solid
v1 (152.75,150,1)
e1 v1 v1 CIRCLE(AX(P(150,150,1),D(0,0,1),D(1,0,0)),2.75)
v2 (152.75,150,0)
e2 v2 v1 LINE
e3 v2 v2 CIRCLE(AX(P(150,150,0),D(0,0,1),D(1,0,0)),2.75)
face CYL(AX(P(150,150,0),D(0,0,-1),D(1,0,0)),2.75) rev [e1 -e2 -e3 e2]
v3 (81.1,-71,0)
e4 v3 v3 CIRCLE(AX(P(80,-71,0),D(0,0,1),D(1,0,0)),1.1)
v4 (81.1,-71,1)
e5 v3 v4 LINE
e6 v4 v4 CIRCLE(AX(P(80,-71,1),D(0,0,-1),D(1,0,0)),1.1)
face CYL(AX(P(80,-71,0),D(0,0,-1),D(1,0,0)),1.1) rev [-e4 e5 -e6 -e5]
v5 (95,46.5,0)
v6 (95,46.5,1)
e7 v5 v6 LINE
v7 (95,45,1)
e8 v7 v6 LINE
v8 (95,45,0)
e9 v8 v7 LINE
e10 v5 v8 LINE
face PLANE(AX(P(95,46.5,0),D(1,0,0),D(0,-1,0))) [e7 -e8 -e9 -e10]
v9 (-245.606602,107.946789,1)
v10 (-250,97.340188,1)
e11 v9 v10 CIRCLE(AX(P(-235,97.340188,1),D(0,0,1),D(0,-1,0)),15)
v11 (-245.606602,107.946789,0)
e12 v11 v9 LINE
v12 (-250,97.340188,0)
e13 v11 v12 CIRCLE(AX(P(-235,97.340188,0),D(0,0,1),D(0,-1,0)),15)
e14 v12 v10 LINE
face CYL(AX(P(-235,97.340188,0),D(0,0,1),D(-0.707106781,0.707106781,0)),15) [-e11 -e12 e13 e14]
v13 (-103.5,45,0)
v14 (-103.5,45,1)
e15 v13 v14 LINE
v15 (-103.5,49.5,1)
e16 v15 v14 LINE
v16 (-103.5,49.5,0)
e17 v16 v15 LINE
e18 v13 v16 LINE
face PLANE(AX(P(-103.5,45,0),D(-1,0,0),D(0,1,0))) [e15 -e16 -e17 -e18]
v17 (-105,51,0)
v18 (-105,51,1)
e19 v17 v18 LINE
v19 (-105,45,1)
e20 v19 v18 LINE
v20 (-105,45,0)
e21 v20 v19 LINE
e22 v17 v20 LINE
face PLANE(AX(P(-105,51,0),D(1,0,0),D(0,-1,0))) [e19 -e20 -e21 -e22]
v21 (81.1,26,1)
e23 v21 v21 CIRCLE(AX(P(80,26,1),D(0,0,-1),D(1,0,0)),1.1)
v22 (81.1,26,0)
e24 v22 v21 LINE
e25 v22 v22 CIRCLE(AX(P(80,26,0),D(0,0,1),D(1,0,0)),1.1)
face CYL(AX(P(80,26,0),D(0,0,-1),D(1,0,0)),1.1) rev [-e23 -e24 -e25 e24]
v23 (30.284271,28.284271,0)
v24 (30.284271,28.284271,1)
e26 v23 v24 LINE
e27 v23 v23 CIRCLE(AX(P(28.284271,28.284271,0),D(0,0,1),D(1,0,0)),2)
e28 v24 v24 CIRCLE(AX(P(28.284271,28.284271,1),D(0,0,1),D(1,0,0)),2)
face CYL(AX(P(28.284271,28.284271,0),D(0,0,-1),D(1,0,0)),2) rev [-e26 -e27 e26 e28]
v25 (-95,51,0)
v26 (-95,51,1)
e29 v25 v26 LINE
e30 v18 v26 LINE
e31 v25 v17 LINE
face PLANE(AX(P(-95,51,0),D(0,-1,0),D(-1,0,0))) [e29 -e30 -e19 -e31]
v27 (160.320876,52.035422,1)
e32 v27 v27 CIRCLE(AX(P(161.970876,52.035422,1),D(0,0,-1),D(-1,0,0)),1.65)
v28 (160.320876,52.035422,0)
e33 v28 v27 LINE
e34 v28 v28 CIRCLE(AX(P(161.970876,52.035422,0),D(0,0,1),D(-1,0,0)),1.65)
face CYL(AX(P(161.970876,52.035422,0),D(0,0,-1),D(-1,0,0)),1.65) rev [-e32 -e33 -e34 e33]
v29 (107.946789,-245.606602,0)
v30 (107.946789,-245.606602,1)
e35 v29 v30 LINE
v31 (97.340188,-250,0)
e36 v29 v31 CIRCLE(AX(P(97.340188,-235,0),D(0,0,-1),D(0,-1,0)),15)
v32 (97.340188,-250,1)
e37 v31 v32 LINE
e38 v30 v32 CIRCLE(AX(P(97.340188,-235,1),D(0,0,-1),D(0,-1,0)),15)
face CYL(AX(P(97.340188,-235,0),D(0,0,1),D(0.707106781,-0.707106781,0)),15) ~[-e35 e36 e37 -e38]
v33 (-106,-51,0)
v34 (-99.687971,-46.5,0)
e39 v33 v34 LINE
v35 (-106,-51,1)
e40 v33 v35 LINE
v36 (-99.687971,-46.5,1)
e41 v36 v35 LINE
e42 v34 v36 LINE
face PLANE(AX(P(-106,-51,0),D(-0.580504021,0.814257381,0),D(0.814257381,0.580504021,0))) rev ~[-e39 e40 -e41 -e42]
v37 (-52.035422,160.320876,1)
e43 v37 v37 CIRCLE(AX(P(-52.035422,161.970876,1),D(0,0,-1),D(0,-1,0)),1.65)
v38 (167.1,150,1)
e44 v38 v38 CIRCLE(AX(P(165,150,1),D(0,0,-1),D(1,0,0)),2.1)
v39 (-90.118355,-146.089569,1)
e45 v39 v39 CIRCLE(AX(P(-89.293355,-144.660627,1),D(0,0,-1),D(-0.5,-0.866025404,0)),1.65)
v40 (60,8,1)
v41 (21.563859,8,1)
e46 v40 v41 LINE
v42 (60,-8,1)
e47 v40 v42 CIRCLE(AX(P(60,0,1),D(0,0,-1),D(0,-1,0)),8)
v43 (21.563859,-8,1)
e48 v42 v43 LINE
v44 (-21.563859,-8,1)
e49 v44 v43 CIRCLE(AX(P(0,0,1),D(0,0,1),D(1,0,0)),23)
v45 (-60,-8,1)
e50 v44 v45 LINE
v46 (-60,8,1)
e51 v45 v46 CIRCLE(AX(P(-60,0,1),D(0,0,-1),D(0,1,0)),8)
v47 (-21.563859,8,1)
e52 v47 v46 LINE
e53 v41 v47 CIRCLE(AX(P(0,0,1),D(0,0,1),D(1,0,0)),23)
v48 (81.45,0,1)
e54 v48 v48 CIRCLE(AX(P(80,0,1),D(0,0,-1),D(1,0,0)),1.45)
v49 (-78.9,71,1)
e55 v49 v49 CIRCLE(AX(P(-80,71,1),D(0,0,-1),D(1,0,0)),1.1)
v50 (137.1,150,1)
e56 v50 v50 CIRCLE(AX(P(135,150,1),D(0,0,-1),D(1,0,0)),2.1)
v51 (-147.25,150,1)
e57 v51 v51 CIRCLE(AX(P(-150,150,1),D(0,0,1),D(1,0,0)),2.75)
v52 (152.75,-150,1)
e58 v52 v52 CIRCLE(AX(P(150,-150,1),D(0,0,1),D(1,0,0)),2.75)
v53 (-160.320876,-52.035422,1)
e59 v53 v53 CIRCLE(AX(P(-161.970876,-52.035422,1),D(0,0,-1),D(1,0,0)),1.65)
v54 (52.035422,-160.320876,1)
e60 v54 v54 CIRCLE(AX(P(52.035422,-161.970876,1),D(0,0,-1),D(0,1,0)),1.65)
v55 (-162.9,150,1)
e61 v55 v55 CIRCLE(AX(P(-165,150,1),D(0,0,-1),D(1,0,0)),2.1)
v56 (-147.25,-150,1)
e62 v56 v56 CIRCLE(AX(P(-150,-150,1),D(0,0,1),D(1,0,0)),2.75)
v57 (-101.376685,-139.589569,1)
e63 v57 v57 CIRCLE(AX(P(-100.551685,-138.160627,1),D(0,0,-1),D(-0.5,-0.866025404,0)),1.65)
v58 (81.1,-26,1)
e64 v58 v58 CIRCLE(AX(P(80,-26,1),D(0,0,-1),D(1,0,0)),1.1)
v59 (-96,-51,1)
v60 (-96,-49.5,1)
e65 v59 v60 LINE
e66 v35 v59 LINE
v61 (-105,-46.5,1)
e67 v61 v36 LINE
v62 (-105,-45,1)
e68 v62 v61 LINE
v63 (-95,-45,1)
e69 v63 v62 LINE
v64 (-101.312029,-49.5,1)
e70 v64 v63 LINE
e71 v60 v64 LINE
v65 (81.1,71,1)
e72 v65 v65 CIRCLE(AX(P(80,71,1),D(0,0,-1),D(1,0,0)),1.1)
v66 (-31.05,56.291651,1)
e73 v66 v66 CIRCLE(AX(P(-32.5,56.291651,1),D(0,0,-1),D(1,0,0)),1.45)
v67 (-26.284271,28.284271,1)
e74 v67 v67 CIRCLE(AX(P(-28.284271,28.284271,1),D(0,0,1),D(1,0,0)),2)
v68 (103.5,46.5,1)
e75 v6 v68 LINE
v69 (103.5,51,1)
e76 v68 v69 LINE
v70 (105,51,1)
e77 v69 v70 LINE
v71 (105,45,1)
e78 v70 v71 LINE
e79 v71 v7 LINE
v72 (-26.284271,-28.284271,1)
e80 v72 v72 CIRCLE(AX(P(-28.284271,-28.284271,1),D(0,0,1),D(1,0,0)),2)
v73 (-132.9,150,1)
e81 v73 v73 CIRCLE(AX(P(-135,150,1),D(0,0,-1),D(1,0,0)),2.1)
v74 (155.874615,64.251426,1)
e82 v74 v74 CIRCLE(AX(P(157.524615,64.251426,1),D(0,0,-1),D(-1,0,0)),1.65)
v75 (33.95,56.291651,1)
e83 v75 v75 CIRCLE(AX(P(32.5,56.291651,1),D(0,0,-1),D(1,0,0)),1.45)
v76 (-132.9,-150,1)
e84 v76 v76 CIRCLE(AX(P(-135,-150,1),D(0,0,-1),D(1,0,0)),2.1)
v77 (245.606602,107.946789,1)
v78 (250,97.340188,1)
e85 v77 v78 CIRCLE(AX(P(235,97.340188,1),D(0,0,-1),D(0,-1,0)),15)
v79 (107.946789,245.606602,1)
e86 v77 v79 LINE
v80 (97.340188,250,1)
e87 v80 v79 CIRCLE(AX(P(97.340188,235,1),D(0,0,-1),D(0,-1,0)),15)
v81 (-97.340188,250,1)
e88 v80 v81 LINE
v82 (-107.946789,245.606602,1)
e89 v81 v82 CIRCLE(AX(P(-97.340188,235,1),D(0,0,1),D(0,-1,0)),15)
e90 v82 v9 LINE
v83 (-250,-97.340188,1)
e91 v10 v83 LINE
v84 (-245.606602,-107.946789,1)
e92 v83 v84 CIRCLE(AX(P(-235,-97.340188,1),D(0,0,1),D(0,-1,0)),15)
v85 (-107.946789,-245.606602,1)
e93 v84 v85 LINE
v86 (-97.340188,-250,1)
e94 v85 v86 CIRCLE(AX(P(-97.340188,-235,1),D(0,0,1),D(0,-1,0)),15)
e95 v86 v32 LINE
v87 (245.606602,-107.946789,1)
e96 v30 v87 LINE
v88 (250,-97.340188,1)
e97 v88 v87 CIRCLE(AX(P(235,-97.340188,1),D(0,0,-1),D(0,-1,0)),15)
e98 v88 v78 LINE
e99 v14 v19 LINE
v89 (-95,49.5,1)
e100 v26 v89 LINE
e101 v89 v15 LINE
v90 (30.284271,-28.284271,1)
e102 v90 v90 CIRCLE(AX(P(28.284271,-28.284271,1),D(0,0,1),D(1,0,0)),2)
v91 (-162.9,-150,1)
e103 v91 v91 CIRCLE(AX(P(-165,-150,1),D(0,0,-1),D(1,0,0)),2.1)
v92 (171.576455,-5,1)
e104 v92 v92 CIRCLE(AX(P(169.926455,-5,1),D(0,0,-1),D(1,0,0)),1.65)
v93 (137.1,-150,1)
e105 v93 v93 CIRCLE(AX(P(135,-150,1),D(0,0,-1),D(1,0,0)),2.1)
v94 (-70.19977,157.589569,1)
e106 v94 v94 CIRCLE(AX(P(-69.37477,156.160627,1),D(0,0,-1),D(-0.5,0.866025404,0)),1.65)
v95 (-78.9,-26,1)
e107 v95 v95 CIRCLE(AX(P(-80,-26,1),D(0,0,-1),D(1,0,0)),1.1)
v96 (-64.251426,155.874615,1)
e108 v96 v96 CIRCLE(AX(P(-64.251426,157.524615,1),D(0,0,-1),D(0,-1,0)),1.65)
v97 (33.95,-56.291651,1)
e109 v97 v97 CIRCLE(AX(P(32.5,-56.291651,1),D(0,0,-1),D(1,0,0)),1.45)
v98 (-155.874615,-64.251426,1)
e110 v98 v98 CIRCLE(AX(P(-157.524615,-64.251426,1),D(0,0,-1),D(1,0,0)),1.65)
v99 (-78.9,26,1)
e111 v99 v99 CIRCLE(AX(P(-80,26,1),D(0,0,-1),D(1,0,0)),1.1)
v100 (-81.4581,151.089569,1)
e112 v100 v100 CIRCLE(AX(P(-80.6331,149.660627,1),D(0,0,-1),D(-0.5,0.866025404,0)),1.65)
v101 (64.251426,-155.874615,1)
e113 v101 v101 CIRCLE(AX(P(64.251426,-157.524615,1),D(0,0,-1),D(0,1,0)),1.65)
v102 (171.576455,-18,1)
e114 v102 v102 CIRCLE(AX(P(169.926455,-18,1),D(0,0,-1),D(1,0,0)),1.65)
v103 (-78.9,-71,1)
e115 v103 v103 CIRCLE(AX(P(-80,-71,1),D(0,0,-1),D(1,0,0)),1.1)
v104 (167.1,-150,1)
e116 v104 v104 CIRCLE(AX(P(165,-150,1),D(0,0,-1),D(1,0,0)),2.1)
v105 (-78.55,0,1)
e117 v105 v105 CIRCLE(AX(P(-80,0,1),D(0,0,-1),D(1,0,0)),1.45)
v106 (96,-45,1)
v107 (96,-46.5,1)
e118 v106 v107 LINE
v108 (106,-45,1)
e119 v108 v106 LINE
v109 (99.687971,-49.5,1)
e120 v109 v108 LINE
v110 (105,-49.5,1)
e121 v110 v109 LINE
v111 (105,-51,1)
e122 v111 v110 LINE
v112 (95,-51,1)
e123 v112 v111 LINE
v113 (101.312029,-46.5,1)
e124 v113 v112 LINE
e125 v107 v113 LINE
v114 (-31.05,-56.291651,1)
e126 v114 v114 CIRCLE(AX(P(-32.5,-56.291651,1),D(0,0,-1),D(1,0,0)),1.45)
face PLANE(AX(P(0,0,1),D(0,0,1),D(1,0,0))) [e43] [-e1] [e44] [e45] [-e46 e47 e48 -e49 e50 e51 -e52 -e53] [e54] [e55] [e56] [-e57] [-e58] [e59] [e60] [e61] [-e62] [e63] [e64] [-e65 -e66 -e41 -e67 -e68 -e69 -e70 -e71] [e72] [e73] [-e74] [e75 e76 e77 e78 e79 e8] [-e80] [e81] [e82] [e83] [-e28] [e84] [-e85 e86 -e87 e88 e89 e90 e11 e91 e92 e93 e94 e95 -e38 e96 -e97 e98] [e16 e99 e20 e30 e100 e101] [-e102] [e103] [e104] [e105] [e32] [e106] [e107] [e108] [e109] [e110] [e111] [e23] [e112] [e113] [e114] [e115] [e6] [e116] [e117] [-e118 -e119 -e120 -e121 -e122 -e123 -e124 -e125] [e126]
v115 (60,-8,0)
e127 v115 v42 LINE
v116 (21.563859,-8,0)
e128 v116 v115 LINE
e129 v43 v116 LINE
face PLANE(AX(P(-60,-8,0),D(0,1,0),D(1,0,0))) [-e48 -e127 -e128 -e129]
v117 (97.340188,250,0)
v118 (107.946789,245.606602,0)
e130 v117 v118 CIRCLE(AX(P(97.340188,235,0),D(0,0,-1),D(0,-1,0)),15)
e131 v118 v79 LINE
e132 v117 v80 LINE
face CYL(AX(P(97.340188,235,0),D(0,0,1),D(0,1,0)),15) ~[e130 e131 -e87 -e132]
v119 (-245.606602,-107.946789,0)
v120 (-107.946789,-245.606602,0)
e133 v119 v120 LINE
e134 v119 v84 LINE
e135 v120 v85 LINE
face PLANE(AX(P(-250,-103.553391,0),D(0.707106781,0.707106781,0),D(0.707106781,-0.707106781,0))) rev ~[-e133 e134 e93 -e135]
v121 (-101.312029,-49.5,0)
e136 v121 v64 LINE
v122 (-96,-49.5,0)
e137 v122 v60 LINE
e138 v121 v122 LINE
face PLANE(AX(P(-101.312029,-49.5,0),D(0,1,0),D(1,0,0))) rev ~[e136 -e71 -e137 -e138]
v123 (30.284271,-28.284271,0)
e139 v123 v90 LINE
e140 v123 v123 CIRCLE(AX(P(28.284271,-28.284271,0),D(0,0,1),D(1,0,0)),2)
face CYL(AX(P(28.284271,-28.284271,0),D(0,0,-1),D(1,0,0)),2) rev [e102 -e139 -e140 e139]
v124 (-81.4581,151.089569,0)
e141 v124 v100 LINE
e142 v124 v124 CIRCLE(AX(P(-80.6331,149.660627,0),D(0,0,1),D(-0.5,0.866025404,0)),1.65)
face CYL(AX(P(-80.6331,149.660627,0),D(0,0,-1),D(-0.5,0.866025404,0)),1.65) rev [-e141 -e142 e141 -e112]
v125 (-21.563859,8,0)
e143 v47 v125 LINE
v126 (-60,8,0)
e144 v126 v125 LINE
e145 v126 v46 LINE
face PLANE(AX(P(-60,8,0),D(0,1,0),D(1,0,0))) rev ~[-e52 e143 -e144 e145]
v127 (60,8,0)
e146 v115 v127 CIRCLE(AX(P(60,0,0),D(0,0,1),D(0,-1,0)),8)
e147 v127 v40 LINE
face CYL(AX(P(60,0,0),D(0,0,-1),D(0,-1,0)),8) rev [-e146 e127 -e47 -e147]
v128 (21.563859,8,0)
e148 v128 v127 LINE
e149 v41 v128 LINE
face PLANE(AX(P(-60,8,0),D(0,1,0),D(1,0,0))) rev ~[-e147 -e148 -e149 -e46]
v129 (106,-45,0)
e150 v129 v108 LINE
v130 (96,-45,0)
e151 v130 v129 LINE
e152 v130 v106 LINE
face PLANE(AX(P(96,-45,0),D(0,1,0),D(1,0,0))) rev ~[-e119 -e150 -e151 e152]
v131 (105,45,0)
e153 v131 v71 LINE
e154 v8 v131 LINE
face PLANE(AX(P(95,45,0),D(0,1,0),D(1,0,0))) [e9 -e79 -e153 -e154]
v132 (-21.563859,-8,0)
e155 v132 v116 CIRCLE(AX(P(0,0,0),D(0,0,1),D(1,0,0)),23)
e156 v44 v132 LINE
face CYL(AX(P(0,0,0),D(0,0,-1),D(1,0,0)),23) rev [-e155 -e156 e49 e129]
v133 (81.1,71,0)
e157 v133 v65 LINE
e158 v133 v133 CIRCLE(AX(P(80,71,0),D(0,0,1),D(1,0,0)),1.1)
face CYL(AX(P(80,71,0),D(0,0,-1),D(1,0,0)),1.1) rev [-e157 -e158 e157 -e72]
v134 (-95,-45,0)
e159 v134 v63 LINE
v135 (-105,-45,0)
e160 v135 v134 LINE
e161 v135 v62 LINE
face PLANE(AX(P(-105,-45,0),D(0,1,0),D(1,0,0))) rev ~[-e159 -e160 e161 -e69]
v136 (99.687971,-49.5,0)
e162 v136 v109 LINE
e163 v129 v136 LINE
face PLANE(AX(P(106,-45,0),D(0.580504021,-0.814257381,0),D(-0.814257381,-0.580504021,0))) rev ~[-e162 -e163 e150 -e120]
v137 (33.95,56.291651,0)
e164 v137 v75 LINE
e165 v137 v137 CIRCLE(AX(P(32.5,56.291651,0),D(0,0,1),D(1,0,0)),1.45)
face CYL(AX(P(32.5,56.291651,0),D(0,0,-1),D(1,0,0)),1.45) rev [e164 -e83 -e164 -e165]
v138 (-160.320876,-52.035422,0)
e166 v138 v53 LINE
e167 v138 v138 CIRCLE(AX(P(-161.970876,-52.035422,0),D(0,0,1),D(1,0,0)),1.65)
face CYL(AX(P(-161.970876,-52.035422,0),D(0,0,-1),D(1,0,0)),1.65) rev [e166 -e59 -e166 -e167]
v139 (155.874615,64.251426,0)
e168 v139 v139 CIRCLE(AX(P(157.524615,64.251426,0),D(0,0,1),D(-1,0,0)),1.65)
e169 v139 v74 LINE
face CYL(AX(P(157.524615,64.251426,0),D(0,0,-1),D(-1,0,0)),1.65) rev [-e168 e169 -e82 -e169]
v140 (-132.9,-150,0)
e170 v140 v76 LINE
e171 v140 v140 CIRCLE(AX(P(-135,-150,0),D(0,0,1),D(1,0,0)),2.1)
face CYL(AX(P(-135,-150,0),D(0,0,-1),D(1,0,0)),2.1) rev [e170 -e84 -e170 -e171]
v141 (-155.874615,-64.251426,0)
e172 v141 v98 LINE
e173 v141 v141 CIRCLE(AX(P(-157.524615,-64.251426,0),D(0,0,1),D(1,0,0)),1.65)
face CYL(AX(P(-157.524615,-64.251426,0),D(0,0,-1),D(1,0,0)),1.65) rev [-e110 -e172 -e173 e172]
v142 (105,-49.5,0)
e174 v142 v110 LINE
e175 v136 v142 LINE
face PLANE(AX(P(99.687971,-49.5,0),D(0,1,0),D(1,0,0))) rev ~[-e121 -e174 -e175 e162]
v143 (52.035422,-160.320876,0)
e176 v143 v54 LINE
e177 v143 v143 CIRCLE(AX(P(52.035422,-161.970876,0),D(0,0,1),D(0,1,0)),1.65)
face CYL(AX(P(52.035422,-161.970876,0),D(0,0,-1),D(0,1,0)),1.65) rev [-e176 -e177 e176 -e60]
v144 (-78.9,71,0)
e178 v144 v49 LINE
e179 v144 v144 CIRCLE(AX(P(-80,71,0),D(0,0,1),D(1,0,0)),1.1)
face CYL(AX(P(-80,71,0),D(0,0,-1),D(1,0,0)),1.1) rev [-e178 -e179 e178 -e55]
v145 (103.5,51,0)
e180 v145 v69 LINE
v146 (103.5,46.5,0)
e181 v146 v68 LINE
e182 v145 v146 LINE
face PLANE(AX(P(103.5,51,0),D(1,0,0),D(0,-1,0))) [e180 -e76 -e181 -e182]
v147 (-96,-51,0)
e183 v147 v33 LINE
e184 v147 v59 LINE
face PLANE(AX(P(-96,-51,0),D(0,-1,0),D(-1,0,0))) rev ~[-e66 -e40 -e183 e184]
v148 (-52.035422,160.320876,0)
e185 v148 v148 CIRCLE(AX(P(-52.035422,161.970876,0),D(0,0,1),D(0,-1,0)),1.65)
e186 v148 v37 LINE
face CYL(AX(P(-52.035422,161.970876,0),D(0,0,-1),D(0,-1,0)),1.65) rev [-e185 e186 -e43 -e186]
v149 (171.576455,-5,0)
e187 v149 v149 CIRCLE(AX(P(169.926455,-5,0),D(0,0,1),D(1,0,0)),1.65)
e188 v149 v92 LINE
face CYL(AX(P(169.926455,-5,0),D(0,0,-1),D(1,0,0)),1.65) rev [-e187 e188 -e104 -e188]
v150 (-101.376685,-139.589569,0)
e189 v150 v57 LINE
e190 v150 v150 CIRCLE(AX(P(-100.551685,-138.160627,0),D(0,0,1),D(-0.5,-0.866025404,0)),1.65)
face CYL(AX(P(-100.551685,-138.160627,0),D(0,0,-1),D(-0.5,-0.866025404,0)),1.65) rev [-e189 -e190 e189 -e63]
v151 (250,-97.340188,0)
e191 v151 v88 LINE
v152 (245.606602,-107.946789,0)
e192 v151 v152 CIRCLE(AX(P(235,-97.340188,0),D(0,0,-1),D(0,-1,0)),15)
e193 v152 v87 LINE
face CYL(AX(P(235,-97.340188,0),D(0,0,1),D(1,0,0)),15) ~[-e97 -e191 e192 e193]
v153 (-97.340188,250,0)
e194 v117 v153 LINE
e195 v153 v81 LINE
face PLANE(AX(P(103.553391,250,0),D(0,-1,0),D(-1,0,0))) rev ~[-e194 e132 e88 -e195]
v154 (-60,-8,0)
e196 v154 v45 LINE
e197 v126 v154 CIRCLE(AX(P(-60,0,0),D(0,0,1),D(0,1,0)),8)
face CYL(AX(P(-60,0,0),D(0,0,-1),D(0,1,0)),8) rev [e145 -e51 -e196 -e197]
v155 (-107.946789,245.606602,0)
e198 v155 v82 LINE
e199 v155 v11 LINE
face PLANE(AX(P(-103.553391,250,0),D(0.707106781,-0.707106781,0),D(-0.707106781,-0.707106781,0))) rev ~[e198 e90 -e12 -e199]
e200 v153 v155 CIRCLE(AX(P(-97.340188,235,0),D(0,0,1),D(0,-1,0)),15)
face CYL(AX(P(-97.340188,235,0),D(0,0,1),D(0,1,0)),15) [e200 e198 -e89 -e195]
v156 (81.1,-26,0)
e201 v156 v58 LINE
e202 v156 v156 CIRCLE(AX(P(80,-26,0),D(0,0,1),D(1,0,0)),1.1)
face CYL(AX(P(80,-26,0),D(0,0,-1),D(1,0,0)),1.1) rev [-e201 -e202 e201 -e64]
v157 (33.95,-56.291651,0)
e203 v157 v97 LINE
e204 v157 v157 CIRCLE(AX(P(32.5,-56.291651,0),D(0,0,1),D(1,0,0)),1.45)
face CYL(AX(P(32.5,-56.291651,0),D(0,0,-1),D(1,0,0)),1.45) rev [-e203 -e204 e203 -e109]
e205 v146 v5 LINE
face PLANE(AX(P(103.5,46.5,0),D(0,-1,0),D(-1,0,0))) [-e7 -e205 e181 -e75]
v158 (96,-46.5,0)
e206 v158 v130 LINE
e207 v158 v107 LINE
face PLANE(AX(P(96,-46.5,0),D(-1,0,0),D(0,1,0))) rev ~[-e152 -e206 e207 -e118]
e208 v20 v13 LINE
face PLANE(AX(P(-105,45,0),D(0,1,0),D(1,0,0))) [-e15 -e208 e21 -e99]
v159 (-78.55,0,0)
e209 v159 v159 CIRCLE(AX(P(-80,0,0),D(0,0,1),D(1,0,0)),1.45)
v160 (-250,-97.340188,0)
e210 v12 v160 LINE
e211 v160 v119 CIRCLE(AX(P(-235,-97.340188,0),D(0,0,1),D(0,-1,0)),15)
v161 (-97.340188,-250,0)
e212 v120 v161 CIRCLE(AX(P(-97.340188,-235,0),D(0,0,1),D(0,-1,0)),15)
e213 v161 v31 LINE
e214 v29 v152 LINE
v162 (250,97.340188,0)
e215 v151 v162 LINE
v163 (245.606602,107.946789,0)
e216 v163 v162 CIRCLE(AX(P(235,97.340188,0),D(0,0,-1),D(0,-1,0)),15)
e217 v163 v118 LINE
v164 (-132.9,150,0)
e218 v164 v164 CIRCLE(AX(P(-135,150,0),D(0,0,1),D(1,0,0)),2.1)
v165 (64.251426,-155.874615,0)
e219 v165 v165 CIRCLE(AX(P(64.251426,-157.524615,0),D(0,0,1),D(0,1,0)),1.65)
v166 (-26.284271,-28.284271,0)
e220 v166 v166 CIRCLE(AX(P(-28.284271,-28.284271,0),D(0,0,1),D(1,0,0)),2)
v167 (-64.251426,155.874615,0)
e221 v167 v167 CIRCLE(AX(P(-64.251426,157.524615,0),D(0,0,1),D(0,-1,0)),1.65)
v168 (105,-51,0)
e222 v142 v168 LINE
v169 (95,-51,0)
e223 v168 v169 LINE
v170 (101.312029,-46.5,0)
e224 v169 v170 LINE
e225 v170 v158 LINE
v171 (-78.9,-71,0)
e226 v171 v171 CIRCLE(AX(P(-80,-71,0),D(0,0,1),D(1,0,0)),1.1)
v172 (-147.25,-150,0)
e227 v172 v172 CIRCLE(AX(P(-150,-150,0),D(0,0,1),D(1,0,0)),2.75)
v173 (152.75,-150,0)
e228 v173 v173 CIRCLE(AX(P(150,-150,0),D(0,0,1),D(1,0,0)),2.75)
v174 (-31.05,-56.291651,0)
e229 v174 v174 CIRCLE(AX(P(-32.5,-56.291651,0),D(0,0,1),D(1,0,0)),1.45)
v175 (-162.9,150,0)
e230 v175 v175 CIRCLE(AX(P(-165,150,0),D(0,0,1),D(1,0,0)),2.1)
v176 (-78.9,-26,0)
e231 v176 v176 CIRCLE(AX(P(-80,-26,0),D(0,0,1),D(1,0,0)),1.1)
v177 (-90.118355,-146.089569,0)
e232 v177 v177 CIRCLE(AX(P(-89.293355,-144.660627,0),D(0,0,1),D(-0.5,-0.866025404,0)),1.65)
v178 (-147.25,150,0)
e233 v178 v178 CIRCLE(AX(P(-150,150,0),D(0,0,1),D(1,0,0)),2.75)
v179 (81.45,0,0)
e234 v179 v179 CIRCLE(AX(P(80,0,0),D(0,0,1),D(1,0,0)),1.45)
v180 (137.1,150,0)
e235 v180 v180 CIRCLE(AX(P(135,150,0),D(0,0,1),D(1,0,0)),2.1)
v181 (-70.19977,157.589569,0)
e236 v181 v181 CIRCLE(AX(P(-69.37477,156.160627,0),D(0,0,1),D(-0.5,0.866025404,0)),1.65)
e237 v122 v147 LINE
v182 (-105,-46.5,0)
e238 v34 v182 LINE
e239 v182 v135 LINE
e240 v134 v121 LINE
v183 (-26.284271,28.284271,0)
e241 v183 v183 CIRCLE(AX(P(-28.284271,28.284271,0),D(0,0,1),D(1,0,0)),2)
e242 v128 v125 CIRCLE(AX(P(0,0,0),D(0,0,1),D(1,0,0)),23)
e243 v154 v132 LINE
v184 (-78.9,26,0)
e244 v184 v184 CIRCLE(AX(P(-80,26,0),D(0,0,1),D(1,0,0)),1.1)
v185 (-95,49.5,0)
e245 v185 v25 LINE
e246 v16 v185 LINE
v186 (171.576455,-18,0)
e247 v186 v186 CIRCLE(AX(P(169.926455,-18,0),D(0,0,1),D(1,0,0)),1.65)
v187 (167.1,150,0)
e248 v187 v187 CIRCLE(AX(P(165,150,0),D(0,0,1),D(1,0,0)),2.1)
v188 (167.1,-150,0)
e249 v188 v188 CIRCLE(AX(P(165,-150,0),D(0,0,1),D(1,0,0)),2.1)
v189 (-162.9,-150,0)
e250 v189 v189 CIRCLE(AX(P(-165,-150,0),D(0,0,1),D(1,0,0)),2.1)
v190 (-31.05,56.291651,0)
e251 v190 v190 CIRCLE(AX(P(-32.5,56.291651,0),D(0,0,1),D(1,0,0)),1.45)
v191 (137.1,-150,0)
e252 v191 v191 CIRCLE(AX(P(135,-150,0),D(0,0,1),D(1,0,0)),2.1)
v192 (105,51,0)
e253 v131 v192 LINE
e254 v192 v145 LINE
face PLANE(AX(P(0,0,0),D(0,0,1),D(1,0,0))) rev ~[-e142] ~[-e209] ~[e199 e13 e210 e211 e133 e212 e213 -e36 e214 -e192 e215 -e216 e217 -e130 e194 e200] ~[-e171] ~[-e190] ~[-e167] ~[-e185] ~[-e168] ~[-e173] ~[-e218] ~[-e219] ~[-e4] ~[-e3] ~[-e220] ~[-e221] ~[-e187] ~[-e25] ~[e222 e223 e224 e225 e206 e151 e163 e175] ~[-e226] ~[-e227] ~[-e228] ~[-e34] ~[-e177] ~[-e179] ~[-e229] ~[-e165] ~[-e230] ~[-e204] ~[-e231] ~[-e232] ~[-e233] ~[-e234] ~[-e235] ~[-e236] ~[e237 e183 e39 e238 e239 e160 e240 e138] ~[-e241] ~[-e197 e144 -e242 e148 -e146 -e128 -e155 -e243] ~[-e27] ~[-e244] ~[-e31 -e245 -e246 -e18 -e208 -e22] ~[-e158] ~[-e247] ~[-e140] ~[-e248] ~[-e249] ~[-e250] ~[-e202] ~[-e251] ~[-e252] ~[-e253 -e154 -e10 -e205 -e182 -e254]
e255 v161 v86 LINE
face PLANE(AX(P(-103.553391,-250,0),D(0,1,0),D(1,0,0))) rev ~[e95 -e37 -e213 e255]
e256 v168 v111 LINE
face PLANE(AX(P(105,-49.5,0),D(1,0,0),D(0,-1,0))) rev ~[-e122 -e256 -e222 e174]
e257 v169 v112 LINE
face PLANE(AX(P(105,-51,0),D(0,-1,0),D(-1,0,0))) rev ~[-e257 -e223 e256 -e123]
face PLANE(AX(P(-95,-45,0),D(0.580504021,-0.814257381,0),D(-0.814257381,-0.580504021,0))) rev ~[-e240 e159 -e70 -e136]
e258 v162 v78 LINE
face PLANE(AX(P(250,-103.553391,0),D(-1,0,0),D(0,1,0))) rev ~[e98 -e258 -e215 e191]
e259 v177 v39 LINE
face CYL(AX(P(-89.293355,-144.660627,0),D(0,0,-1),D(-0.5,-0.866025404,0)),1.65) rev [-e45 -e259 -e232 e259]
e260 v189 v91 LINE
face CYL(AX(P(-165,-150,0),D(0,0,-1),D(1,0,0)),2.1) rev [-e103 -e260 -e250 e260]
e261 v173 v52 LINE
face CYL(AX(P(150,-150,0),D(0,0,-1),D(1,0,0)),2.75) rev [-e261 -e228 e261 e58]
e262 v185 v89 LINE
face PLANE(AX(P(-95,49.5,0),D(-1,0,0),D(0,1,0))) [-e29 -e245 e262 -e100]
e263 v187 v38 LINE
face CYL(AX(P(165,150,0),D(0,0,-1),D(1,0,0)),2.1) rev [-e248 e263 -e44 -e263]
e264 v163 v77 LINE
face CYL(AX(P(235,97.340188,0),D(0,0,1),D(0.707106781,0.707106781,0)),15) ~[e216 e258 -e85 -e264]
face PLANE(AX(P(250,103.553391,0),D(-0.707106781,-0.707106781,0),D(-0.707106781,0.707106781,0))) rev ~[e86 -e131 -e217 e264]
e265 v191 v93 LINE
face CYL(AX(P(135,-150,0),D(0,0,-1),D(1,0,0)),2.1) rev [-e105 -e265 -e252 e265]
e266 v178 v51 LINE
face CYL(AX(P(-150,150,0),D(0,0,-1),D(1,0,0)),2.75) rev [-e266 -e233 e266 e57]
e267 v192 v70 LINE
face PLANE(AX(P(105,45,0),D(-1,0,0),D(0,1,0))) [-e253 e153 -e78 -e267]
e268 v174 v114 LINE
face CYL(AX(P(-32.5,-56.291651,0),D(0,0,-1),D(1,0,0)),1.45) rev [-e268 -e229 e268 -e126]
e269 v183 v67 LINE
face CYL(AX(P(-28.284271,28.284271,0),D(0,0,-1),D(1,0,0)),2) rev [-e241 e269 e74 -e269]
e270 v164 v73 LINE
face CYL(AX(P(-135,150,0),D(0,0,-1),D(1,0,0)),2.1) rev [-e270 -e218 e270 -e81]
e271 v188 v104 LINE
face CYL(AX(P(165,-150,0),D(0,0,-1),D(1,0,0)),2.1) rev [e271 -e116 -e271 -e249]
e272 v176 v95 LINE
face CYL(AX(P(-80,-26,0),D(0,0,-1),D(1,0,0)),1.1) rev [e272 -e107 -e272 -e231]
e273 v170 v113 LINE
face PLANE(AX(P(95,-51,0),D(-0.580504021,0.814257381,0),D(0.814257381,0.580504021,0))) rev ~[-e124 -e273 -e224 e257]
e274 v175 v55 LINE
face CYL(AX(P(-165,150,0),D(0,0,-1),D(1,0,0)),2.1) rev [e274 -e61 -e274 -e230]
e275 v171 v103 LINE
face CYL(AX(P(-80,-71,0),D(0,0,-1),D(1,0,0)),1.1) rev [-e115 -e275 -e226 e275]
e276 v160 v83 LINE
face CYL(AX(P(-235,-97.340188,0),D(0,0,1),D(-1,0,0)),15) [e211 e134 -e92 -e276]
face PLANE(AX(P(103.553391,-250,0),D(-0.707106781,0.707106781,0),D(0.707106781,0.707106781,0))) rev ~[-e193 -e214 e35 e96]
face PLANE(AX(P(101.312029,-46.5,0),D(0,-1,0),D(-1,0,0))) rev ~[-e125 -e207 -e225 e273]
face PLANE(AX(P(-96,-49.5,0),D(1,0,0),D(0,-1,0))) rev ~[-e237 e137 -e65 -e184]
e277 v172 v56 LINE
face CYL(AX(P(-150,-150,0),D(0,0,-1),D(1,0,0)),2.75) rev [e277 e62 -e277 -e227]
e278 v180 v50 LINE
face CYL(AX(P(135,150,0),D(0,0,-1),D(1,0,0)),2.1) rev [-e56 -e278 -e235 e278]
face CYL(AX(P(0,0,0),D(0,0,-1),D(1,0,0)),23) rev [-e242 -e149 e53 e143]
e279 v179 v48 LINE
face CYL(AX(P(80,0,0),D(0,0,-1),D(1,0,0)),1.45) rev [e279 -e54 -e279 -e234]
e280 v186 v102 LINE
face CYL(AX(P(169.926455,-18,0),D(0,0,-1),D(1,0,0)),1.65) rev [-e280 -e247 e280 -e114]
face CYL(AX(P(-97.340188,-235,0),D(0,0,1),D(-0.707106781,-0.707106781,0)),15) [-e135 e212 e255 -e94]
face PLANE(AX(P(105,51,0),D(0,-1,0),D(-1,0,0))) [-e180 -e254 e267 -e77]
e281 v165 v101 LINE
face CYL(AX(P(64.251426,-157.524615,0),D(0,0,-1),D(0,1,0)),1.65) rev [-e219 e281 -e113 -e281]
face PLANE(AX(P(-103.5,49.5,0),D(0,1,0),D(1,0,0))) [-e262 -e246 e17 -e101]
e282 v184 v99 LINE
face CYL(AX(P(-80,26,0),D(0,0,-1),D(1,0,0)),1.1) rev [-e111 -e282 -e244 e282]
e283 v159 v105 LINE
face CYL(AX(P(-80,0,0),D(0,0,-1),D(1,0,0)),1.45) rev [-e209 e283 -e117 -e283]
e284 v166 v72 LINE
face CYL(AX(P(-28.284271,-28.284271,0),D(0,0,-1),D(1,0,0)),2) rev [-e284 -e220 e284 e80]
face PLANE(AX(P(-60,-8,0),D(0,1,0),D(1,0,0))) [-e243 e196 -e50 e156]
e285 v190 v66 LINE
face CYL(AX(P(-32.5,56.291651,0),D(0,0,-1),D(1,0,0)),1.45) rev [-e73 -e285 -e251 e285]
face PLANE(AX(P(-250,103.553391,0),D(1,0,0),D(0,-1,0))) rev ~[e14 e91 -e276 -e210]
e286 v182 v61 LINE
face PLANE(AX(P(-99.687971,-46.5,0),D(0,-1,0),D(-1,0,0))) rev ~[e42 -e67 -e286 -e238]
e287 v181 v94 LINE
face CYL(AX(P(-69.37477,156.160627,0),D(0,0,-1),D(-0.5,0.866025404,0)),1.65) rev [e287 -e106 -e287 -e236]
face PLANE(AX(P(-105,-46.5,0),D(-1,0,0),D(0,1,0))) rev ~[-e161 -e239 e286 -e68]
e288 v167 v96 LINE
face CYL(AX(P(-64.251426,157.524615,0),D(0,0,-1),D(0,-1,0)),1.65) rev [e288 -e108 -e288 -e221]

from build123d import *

# Parameters (mm, degrees)
SKETCH_R              = 23
SKETCH_R_2            = 2.75
SKETCH_R_3            = 2
PAD_DEPTH             = 1
SKETCH001_R           = 1.65
POCKET_DEPTH          = 1415.215977
POLARPATTERN_COUNT    = 3
POCKET001_DEPTH       = 5
SKETCH003_R           = 1.1
SKETCH003_R_2         = 1.45
POCKET002_DEPTH       = 1.001
SKETCH004_R           = 1.45
POCKET003_DEPTH       = 1.001
SKETCH005_R           = 2.1
POCKET004_DEPTH       = 1.001
SKETCH006_R           = 1.65
POCKET005_DEPTH       = 1415.215977
POLARPATTERN001_COUNT = 4
FILLET_R              = 15


with BuildPart() as part:
    # Sketch → Pad (new body)
    with BuildSketch(Plane.XY):
        Polygon((103.553391, 250), (-103.553391, 250), (-250, 103.553391), (-250, -103.553391), (-103.553391, -250), (103.553391, -250), (250, -103.553391), (250, 103.553391), align=None)
        Circle(SKETCH_R, mode=Mode.SUBTRACT)
        with Locations((150, 150)):
            Circle(SKETCH_R_2, mode=Mode.SUBTRACT)
        with Locations((-150, 150)):
            Circle(SKETCH_R_2, mode=Mode.SUBTRACT)
        with Locations((-150, -150)):
            Circle(SKETCH_R_2, mode=Mode.SUBTRACT)
        with Locations((150, -150)):
            Circle(SKETCH_R_2, mode=Mode.SUBTRACT)
        with Locations((28.284271, 28.284271)):
            Circle(SKETCH_R_3, mode=Mode.SUBTRACT)
        with Locations((-28.284271, 28.284271)):
            Circle(SKETCH_R_3, mode=Mode.SUBTRACT)
        with Locations((-28.284271, -28.284271)):
            Circle(SKETCH_R_3, mode=Mode.SUBTRACT)
        with Locations((28.284271, -28.284271)):
            Circle(SKETCH_R_3, mode=Mode.SUBTRACT)
    extrude(amount=PAD_DEPTH)

    # Sketch001 → Pocket (cut, through all)
    with BuildSketch(Plane.XY):
        with Locations((169.926455, -5)):
            Circle(SKETCH001_R)
        with Locations((169.926455, -18)):
            Circle(SKETCH001_R)
    pocket = extrude(amount=POCKET_DEPTH, mode=Mode.SUBTRACT)

    # PolarPattern: Pocket ×3 about axis
    polarpattern_axis = Axis((0, 0, 0), (0, 0, 1))
    for i in range(1, POLARPATTERN_COUNT):
        add(pocket.rotate(polarpattern_axis, i * 360 / POLARPATTERN_COUNT), mode=Mode.SUBTRACT)

    # Sketch002 → Pocket001 (cut)
    with BuildSketch(Plane.XY):
        with BuildLine():
            ThreePointArc((-60, 8), (-68, 0), (-60, -8))
            Line((-60, -8), (60, -8))
            ThreePointArc((60, -8), (68, 0), (60, 8))
            Line((-60, 8), (60, 8))
        make_face()
    extrude(amount=POCKET001_DEPTH, mode=Mode.SUBTRACT)

    # Sketch003 → Pocket002 (cut, through all)
    with BuildSketch(Plane.XY):
        with Locations((-80, 71)):
            Circle(SKETCH003_R)
        with Locations((-80, 26)):
            Circle(SKETCH003_R)
        with Locations((-80, -26)):
            Circle(SKETCH003_R)
        with Locations((-80, -71)):
            Circle(SKETCH003_R)
        with Locations((-80, 0)):
            Circle(SKETCH003_R_2)
        with Locations((80, 71)):
            Circle(SKETCH003_R)
        with Locations((80, 26)):
            Circle(SKETCH003_R)
        with Locations((80, 0)):
            Circle(SKETCH003_R_2)
        with Locations((80, -26)):
            Circle(SKETCH003_R)
        with Locations((80, -71)):
            Circle(SKETCH003_R)
        Polygon((-95, 51), (-105, 51), (-105, 45), (-103.5, 45), (-103.5, 49.5), (-95, 49.5), align=None)
        Polygon((-105, -45), (-95, -45), (-101.312029, -49.5), (-96, -49.5), (-96, -51), (-106, -51), (-99.687971, -46.5), (-105, -46.5), align=None)
        Polygon((105, -51), (95, -51), (101.312029, -46.5), (96, -46.5), (96, -45), (106, -45), (99.687971, -49.5), (105, -49.5), align=None)
        Polygon((95, 45), (105, 45), (105, 51), (103.5, 51), (103.5, 46.5), (95, 46.5), align=None)
    extrude(amount=POCKET002_DEPTH, mode=Mode.SUBTRACT)

    # Sketch004 → Pocket003 (cut, through all)
    with BuildSketch(Plane.XY):
        with Locations((-32.5, -56.291651)):
            Circle(SKETCH004_R)
        with Locations((32.5, -56.291651)):
            Circle(SKETCH004_R)
        with Locations((-32.5, 56.291651)):
            Circle(SKETCH004_R)
        with Locations((32.5, 56.291651)):
            Circle(SKETCH004_R)
    extrude(amount=POCKET003_DEPTH, mode=Mode.SUBTRACT)

    # Sketch005 → Pocket004 (cut, through all)
    with BuildSketch(Plane.XY):
        with Locations((135, 150)):
            Circle(SKETCH005_R)
        with Locations((165, 150)):
            Circle(SKETCH005_R)
        with Locations((-165, 150)):
            Circle(SKETCH005_R)
        with Locations((-135, 150)):
            Circle(SKETCH005_R)
        with Locations((-165, -150)):
            Circle(SKETCH005_R)
        with Locations((-135, -150)):
            Circle(SKETCH005_R)
        with Locations((135, -150)):
            Circle(SKETCH005_R)
        with Locations((165, -150)):
            Circle(SKETCH005_R)
    extrude(amount=POCKET004_DEPTH, mode=Mode.SUBTRACT)

    # Sketch006 → Pocket005 (cut, through all)
    with BuildSketch(Plane.XY):
        with Locations((-161.970876, -52.035422)):
            Circle(SKETCH006_R)
        with Locations((-157.524615, -64.251426)):
            Circle(SKETCH006_R)
    pocket005 = extrude(amount=POCKET005_DEPTH, mode=Mode.SUBTRACT)

    # PolarPattern001: Pocket005 ×4 about axis
    polarpattern001_axis = Axis((0, 0, 0), (0, 0, 1))
    for i in range(1, POLARPATTERN001_COUNT):
        add(pocket005.rotate(polarpattern001_axis, i * 360 / POLARPATTERN001_COUNT), mode=Mode.SUBTRACT)

    # Fillet
    fillet_edges = [part.edges().sort_by_distance(p)[0] for p in [
        (-250, -103.553391, 0.5),
        (-103.553391, -250, 0.5),
        (103.553391, -250, 0.5),
        (-250, 103.553391, 0.5),
        (-103.553391, 250, 0.5),
        (103.553391, 250, 0.5),
        (250, 103.553391, 0.5),
        (250, -103.553391, 0.5),
    ]]
    fillet(fillet_edges, radius=FILLET_R)


solid = part.part
